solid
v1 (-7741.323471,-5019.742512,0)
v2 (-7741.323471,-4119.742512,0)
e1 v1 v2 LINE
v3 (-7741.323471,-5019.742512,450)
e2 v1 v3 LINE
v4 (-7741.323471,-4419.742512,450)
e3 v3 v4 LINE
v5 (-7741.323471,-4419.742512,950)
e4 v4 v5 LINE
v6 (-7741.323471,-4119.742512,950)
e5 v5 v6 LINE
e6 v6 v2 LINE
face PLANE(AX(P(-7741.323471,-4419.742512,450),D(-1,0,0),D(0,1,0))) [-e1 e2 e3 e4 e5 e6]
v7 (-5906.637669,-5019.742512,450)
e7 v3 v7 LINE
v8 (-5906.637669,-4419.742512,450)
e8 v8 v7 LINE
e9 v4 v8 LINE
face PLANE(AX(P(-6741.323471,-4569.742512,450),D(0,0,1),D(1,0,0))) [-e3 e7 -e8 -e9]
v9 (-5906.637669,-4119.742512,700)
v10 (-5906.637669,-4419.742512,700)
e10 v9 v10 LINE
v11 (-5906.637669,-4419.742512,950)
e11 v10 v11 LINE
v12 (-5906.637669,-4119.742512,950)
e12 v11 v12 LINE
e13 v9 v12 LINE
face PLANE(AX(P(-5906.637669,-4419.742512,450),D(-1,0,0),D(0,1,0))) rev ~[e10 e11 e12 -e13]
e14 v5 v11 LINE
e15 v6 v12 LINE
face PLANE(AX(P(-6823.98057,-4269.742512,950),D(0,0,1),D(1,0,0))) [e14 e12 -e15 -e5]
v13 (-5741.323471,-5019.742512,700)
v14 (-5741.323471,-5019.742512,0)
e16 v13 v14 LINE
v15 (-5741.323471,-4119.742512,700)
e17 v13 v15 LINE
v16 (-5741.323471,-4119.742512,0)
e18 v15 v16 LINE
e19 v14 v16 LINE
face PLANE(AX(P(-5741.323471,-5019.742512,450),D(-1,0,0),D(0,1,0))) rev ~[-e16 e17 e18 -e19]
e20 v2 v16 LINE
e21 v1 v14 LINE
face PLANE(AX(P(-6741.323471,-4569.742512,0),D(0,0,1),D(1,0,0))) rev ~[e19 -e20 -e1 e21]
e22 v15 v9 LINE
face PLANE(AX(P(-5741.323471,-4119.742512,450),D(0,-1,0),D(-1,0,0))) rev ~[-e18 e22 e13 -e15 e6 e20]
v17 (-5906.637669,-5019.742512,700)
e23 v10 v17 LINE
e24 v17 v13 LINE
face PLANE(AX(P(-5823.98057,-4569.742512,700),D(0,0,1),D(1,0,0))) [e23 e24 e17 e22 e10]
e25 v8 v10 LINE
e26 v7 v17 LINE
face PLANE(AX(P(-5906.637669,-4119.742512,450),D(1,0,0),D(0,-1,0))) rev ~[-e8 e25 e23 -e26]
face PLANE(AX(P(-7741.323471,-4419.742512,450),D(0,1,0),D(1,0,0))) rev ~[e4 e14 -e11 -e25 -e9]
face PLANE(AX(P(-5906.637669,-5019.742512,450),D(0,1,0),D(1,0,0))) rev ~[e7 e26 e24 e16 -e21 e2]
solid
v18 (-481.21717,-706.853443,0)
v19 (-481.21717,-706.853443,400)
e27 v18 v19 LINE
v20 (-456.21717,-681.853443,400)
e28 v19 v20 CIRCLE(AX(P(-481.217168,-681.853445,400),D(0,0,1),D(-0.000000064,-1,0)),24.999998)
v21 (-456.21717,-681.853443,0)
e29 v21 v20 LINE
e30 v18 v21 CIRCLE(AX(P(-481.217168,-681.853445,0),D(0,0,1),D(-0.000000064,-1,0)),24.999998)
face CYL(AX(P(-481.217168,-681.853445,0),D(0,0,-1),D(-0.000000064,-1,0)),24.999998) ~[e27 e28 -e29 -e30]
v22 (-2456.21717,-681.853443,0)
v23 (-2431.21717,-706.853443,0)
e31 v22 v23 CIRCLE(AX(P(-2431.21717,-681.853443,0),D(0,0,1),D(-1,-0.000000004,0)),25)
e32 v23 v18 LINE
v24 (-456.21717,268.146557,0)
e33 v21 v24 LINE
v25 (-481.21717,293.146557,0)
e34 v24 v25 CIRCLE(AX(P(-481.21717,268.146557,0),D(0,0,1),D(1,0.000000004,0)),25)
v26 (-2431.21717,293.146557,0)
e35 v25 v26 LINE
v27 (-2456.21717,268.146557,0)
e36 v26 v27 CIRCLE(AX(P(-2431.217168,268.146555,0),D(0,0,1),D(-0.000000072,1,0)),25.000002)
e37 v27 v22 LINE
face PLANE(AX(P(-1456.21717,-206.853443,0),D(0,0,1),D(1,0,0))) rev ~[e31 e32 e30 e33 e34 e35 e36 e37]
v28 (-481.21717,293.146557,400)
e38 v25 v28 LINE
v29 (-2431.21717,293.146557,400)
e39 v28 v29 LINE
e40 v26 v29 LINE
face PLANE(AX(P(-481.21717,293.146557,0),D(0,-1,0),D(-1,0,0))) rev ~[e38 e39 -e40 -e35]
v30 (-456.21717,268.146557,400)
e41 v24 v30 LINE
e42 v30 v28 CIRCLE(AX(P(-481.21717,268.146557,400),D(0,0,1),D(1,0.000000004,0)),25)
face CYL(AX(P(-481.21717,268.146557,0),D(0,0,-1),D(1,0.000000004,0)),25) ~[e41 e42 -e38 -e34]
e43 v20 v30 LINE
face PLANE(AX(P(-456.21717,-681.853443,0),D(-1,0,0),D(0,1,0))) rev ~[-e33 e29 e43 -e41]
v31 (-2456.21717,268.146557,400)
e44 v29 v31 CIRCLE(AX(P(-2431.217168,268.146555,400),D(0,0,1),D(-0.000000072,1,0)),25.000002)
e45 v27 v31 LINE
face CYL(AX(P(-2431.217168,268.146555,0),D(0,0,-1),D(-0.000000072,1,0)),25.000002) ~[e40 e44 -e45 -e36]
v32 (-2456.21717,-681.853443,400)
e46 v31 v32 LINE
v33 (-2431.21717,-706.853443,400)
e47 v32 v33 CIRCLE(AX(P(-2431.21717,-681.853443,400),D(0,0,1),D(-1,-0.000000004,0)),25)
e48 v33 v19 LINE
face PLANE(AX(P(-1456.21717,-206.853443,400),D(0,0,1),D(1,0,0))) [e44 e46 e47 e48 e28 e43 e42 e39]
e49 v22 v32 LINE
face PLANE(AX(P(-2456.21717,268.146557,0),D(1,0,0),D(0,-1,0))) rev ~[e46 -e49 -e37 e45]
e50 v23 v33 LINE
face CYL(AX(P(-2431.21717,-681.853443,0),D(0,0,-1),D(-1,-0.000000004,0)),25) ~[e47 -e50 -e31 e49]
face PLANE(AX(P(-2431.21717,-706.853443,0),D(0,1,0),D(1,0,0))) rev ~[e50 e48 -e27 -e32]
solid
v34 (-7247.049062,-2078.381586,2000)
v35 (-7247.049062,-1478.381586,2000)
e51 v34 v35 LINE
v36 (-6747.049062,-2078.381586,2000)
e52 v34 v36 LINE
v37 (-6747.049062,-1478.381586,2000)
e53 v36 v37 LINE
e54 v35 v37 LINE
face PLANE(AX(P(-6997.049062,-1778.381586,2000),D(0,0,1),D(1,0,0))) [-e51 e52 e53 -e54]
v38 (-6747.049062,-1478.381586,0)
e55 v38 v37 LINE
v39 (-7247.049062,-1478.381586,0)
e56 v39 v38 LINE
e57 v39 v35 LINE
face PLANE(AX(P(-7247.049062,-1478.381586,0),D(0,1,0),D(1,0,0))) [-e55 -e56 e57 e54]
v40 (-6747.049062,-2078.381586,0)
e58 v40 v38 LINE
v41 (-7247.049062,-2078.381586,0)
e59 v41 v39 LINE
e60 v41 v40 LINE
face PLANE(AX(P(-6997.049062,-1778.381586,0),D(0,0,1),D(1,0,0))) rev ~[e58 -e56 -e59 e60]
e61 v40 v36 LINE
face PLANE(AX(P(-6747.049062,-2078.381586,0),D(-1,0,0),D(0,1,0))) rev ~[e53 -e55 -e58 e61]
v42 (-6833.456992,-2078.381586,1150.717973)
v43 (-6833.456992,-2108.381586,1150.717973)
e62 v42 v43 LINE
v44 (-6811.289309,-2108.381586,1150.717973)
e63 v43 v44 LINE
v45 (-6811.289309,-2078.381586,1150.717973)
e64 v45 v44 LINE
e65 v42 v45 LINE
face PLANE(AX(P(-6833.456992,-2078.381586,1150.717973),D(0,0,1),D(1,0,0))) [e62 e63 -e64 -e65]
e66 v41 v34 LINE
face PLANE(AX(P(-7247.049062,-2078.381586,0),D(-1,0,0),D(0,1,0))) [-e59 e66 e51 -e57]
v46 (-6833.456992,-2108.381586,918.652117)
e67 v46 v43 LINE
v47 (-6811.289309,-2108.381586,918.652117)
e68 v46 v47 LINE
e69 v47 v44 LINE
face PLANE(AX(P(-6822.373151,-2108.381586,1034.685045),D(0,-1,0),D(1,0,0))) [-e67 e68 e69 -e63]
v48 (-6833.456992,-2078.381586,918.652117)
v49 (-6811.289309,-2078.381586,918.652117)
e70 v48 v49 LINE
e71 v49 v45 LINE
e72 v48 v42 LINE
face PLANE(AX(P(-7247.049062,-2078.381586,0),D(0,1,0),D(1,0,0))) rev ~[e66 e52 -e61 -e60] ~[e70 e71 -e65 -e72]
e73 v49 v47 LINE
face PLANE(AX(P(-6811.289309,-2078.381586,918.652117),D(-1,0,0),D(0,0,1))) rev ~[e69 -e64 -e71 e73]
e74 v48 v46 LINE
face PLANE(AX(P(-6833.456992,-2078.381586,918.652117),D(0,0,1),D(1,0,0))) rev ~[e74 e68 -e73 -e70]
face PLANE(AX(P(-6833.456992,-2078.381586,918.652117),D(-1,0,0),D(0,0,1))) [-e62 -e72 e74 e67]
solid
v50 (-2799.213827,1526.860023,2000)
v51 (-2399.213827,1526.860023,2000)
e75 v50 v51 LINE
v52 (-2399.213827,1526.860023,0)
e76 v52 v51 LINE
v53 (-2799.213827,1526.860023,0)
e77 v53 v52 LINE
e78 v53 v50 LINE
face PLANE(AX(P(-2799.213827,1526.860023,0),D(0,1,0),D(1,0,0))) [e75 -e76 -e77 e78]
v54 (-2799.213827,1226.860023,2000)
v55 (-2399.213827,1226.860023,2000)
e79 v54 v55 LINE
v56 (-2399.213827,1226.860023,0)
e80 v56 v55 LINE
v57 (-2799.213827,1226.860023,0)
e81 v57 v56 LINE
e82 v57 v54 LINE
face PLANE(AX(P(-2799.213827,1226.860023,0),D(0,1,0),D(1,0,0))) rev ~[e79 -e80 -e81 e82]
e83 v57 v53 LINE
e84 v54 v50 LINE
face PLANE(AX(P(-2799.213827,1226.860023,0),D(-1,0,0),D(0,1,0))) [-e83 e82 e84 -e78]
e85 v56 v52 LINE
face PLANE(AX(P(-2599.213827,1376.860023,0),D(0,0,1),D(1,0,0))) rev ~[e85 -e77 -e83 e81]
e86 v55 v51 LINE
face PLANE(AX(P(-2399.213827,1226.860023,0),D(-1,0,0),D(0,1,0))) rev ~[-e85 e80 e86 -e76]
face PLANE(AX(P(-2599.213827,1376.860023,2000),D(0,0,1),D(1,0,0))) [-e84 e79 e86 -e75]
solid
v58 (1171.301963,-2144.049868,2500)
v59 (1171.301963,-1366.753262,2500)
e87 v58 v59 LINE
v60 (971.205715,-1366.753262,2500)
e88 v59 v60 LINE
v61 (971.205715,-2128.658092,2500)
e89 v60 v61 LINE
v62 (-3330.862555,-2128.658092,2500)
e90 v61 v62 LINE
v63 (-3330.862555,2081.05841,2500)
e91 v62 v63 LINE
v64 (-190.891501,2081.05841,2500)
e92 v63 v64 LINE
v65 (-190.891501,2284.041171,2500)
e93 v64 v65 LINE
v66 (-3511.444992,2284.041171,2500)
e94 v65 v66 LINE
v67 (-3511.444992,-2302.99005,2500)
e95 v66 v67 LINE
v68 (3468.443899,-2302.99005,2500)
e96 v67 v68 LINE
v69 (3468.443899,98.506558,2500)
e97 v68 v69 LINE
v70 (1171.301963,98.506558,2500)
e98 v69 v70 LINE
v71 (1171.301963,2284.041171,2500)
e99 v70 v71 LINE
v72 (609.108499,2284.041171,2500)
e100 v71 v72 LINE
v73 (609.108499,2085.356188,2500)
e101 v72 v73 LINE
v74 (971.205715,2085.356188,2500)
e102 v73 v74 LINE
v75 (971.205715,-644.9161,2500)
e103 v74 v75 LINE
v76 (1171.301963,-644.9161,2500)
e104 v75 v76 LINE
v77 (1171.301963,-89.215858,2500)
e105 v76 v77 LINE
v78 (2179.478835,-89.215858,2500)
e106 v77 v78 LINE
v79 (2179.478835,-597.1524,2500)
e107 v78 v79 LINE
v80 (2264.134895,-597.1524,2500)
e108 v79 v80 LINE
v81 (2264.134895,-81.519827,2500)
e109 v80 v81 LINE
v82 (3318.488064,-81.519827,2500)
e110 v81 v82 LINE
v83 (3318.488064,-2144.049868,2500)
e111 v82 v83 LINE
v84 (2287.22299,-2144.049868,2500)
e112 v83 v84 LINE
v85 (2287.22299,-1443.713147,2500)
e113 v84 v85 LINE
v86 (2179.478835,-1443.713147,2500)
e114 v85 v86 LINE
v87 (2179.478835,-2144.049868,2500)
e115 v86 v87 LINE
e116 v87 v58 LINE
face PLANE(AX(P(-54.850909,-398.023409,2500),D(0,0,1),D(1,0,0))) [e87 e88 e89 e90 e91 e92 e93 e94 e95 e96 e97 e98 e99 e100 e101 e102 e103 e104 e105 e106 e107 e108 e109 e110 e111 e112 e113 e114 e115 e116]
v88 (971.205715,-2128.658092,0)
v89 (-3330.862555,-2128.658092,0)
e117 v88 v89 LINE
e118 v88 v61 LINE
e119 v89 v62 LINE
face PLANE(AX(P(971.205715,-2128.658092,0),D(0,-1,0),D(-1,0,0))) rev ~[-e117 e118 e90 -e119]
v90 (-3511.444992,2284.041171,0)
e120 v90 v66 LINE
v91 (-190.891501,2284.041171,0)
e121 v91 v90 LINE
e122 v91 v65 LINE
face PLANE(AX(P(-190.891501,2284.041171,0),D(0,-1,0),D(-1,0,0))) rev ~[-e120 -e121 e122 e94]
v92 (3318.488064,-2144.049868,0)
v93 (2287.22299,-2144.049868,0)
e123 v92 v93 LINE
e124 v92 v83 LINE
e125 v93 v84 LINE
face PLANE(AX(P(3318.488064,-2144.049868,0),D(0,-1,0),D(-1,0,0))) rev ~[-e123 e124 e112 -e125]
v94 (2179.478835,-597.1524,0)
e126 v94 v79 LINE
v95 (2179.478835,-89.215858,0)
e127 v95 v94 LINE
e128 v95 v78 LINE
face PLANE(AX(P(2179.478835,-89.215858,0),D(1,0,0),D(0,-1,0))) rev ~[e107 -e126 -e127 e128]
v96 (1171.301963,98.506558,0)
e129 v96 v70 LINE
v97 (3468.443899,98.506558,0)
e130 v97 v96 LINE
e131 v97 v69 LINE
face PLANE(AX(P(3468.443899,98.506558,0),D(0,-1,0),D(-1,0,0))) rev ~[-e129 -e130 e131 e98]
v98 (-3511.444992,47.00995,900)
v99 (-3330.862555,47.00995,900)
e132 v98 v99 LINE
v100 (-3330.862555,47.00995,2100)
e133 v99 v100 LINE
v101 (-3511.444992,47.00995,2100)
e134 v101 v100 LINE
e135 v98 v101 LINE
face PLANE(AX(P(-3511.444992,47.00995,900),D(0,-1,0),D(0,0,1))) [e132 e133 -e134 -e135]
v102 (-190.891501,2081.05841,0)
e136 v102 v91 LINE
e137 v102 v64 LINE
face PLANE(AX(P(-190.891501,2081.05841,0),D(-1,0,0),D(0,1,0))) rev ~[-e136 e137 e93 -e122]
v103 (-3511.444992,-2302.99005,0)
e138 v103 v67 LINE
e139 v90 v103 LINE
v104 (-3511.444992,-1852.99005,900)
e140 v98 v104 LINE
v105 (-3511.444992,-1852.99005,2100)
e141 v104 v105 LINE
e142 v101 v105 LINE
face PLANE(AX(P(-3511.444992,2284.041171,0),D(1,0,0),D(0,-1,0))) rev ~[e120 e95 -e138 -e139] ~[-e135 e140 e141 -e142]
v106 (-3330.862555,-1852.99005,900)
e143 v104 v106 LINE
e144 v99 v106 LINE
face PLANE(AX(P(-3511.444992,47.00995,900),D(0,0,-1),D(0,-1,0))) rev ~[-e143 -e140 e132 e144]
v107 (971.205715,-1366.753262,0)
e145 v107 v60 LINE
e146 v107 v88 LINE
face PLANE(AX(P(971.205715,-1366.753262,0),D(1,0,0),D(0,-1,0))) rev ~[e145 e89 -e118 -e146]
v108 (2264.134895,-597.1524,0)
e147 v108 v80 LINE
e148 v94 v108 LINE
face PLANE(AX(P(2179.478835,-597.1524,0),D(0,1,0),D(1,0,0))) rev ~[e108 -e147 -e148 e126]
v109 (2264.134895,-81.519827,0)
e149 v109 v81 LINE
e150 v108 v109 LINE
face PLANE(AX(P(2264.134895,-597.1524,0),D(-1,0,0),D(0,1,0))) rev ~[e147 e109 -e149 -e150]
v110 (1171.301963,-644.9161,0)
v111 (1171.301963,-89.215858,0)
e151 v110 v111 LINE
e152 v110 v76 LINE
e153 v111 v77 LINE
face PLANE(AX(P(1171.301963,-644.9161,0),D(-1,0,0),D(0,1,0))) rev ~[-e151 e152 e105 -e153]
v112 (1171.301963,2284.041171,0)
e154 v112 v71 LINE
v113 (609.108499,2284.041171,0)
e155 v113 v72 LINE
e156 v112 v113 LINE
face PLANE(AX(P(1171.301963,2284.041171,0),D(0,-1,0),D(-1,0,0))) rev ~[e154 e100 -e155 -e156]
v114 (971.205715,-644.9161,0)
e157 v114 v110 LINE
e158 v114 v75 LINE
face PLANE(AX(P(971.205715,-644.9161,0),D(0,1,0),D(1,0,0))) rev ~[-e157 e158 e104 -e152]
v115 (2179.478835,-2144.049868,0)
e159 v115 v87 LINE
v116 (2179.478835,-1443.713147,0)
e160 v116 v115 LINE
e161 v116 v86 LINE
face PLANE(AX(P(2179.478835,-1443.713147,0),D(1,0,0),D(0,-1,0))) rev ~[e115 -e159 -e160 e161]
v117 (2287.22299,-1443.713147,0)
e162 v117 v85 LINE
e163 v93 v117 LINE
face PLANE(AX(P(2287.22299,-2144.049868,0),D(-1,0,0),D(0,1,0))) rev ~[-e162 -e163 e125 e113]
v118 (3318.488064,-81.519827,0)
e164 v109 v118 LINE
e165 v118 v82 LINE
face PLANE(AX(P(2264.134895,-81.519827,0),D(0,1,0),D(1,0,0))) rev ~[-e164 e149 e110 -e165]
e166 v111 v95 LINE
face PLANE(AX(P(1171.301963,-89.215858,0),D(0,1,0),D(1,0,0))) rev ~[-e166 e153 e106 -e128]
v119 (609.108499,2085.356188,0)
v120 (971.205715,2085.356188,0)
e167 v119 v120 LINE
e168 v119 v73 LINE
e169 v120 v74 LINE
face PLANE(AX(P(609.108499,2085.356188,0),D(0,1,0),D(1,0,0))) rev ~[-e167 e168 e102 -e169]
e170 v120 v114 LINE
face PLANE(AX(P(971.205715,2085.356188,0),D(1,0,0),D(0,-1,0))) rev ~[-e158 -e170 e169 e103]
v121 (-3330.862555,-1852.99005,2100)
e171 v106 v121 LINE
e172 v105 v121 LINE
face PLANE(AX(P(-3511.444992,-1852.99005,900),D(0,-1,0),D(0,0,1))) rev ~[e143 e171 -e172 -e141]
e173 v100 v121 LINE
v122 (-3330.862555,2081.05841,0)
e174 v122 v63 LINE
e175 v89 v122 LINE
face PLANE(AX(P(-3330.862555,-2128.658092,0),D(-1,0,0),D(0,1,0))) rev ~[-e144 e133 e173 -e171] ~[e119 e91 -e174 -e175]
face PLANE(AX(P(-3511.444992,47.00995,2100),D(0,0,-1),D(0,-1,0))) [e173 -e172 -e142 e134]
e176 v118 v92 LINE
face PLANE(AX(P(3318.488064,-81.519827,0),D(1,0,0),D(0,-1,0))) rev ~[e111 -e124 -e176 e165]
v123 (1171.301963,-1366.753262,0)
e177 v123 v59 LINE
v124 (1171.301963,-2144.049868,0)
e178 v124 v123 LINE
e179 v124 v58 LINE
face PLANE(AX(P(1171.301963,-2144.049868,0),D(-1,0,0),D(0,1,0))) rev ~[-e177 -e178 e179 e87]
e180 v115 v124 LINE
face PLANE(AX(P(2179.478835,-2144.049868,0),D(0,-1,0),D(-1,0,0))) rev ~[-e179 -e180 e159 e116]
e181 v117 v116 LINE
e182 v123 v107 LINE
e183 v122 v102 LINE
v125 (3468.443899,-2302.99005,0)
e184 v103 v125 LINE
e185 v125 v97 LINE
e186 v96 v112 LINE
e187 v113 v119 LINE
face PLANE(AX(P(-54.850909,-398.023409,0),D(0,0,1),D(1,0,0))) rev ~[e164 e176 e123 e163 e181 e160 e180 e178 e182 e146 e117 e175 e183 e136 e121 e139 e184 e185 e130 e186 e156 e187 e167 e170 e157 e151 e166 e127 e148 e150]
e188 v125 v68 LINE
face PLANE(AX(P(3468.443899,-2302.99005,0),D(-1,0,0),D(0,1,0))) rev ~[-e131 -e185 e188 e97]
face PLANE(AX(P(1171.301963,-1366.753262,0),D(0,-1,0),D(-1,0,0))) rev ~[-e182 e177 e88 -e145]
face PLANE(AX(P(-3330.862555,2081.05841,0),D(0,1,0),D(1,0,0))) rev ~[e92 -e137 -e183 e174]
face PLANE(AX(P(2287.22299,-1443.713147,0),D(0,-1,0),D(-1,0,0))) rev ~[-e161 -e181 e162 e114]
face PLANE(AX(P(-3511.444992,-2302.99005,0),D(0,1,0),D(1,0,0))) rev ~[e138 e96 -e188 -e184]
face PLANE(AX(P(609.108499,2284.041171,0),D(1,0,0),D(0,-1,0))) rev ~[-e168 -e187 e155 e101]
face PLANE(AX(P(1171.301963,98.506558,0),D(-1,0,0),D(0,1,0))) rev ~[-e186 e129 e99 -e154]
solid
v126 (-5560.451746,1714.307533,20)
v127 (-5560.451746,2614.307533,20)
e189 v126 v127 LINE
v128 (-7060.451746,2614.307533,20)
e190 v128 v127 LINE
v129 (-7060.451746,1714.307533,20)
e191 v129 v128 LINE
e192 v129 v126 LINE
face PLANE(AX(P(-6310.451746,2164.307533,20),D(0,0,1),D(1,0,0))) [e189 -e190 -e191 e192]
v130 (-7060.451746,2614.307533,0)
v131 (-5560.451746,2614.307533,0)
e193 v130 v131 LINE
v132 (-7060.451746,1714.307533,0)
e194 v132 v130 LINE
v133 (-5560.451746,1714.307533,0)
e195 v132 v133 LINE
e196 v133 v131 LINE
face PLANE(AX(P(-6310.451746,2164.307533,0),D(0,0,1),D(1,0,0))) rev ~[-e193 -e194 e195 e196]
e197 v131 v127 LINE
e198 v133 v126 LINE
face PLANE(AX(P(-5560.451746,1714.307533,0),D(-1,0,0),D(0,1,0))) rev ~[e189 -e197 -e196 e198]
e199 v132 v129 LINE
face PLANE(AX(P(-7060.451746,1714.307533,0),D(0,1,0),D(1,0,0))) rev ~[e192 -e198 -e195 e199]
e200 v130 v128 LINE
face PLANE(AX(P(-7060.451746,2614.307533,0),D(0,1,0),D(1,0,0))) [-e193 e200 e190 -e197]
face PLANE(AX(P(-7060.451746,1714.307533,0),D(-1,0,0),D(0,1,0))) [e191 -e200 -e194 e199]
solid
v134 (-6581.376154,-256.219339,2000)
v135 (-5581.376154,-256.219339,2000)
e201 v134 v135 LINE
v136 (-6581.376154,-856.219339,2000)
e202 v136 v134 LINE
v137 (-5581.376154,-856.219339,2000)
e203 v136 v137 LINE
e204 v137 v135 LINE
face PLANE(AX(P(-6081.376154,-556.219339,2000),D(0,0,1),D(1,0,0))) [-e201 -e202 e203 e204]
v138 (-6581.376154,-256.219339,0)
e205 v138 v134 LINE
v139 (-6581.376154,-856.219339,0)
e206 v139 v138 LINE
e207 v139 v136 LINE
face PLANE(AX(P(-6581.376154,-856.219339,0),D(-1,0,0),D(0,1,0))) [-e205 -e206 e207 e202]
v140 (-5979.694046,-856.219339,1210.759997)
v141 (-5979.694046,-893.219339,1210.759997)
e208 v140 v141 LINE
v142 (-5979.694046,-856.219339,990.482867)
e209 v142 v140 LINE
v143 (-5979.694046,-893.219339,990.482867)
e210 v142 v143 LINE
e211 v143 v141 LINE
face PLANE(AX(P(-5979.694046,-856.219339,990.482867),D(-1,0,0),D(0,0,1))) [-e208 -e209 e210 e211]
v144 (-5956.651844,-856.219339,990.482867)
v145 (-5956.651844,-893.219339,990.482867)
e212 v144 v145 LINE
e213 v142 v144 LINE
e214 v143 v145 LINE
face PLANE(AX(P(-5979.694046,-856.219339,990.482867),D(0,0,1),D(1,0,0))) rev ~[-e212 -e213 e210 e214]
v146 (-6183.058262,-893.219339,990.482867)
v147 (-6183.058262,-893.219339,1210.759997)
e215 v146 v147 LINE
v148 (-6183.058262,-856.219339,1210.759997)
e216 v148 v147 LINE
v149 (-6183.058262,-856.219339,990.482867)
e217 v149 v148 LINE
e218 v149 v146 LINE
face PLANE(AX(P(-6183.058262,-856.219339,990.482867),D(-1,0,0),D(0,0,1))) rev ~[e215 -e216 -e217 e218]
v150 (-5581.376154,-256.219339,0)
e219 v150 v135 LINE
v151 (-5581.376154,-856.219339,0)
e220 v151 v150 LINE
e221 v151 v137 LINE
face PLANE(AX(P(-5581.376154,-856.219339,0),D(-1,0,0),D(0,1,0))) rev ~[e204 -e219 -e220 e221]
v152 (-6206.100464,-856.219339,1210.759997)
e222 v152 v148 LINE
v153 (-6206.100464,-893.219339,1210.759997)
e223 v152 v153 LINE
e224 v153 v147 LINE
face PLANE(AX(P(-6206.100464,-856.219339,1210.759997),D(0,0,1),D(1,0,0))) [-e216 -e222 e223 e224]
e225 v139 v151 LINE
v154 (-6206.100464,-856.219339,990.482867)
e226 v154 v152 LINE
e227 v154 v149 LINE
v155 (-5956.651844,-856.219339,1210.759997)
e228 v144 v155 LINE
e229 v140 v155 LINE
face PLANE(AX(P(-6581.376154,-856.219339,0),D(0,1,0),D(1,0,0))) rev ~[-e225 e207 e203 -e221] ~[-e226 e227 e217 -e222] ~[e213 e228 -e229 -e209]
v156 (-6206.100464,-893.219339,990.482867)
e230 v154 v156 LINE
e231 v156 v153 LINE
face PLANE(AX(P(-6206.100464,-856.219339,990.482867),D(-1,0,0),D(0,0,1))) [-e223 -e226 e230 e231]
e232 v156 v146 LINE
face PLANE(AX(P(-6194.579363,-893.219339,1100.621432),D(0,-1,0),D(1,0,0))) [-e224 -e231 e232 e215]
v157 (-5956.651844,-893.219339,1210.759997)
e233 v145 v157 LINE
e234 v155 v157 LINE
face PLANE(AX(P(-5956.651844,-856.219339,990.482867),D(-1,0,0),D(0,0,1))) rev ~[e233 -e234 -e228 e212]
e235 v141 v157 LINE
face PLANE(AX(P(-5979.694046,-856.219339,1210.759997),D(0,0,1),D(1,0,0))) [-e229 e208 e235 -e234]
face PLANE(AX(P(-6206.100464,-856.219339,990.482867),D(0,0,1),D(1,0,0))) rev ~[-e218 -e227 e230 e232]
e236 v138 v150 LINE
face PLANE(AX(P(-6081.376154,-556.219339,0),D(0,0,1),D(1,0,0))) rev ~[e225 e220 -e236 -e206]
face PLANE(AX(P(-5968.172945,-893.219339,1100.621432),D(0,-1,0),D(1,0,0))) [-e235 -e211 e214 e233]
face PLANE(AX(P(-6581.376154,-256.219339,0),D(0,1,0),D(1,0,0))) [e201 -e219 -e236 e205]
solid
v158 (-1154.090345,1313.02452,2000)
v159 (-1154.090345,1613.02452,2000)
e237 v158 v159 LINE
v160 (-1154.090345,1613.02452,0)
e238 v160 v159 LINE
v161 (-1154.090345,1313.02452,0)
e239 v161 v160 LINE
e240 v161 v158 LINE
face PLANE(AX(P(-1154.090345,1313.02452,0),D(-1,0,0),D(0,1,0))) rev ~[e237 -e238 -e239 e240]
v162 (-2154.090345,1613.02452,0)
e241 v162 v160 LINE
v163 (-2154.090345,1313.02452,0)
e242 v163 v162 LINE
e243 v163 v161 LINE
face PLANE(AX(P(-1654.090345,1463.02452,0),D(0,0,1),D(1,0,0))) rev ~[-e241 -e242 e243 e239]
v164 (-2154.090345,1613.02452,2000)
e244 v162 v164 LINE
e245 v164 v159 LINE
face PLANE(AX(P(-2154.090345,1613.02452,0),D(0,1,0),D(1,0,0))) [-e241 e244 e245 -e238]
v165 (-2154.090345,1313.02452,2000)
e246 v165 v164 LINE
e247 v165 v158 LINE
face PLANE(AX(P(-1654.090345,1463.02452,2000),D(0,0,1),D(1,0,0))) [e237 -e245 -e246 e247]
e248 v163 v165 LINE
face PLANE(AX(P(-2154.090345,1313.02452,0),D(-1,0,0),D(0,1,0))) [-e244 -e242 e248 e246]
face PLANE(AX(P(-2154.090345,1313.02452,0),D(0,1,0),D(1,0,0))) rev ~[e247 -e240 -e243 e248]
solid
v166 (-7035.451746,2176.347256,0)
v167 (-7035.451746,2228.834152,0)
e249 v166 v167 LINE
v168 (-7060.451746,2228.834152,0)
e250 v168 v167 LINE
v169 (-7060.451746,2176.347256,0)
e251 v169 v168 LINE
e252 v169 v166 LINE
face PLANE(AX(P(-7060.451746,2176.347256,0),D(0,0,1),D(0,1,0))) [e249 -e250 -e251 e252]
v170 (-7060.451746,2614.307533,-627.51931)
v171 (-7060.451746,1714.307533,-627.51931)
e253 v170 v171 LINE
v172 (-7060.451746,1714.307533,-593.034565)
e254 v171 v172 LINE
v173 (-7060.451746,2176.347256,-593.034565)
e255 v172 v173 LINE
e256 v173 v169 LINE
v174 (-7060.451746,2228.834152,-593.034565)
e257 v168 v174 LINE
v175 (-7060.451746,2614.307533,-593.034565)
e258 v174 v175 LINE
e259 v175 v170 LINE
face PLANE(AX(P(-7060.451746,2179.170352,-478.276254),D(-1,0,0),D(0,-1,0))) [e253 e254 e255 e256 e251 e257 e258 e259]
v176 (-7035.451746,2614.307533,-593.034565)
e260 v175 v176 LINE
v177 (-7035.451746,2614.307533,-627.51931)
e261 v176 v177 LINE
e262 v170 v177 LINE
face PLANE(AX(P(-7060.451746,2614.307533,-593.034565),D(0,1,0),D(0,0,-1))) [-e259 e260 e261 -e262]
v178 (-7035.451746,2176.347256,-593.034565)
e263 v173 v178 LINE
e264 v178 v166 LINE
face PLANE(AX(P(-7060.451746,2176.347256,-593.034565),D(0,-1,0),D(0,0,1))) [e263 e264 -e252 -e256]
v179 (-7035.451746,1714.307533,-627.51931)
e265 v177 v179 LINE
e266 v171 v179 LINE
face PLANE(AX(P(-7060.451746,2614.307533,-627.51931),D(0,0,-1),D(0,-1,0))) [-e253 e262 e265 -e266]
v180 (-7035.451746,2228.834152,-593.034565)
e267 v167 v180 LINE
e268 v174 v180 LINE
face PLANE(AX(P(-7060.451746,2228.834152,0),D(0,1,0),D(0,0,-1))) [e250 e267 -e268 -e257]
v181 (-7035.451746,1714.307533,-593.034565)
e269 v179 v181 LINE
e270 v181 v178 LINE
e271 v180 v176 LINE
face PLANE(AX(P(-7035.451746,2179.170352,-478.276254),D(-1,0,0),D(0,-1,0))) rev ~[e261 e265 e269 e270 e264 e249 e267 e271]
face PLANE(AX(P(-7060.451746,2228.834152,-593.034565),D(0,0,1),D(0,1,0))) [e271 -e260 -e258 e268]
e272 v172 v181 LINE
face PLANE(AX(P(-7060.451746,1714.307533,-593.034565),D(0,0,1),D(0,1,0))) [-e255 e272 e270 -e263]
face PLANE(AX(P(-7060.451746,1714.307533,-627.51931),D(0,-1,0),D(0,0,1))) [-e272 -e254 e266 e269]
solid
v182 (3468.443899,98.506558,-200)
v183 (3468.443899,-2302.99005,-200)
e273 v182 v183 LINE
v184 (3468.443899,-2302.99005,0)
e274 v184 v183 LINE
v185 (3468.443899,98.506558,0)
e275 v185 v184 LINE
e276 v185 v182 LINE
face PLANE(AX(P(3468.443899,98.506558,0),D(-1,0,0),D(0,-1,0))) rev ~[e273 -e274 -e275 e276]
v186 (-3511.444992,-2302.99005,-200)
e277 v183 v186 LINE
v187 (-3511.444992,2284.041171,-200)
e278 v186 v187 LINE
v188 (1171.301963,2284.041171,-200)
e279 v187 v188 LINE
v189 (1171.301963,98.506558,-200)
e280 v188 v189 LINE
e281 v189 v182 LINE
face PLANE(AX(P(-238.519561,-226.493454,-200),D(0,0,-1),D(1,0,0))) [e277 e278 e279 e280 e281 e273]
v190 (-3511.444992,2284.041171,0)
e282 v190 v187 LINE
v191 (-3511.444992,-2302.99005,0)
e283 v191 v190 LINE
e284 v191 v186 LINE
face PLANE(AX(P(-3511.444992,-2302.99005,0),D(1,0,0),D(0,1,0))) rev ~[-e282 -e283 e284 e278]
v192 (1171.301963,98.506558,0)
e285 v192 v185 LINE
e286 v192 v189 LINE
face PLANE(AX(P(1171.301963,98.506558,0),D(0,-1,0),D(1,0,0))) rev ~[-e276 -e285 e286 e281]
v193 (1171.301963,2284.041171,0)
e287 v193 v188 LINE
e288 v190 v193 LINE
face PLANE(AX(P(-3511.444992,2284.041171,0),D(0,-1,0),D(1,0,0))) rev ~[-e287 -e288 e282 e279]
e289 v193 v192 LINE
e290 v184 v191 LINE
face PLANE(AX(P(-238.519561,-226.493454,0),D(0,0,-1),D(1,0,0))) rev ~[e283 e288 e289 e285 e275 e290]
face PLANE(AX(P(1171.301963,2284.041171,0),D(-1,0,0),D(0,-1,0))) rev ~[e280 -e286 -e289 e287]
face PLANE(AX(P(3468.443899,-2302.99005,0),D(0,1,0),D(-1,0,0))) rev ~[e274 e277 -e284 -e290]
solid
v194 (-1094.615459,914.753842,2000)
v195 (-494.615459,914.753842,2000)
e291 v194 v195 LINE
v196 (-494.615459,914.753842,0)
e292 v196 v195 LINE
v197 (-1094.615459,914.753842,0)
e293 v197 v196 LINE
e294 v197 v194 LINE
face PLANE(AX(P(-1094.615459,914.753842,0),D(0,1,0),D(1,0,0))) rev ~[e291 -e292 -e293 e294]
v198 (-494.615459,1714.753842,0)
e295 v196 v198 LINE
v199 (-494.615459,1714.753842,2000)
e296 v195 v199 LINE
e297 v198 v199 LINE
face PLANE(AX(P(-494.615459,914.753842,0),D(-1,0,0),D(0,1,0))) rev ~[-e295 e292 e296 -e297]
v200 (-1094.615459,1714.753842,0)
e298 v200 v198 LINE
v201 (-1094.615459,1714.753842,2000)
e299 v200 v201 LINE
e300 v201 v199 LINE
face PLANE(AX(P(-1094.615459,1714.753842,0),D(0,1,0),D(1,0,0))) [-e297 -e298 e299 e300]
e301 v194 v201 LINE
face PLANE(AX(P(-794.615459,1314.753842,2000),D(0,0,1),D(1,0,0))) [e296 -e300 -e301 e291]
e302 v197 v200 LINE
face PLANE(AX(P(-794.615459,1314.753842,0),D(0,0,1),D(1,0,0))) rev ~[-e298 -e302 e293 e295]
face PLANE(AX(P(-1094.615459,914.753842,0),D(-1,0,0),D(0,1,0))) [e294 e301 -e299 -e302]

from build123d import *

# Parameters (mm, degrees)
F2_DEPTH  = 2500
F3_W      = 1900
F3_H      = 1200
F4_DEPTH  = 180.582437
F1_W      = 600
F1_H      = 800
F5_DEPTH  = 2000
F7_DEPTH  = 400
F8_W      = 400
F8_H      = 300
F9_DEPTH  = 2000
F10_W     = 1000
F10_H     = 300
F11_DEPTH = 2000
F13_DEPTH = 200
F14_W     = 1500
F14_H     = 900
F15_DEPTH = 20
F17_DEPTH = 25
F19_W     = 500
F19_H     = 600
F20_DEPTH = 2000
F18_W     = 1000
F18_H     = 600
F21_DEPTH = 2000
F22_W     = 23.042202
F22_H     = 220.27713
F23_DEPTH = 37
F24_W     = 22.167683
F24_H     = 232.065857
F25_DEPTH = 30
F26_W     = 2000
F26_H     = 900
F27_DEPTH = 450
F28_W     = 1834.685802
F28_H     = 300
F29_DEPTH = 500
F31_DEPTH = 250


with BuildPart() as f2:
    # F0 (on Top) → F2 (new body)
    with BuildSketch(Plane.XY):
        Polygon((-3330.862555, 2081.05841), (-190.891501, 2081.05841), (-190.891501, 2284.041171), (-3511.444992, 2284.041171), (-3511.444992, -2302.99005), (3468.443899, -2302.99005), (3468.443899, 98.506558), (1171.301963, 98.506558), (1171.301963, 2284.041171), (609.108499, 2284.041171), (609.108499, 2085.356188), (971.205715, 2085.356188), (971.205715, -644.9161), (1171.301963, -644.9161), (1171.301963, -89.215858), (2179.478835, -89.215858), (2179.478835, -597.1524), (2264.134895, -597.1524), (2264.134895, -81.519827), (3318.488064, -81.519827), (3318.488064, -2144.049868), (2287.22299, -2144.049868), (2287.22299, -1443.713147), (2179.478835, -1443.713147), (2179.478835, -2144.049868), (1171.301963, -2144.049868), (1171.301963, -1366.753262), (971.205715, -1366.753262), (971.205715, -2128.658092), (-3330.862555, -2128.658092), align=None)
    extrude(amount=F2_DEPTH)

    # F3 (on face) → F4 (cut, through all)
    with BuildSketch(Plane(origin=(-3511.444992, 0, 0), x_dir=(0, -1, 0), z_dir=(-1, 0, 0))):
        with Locations((902.99005, 1500)):
            Rectangle(F3_W, F3_H)
    extrude(amount=-F4_DEPTH, mode=Mode.SUBTRACT)


with BuildPart() as f5:
    # F1 (on Top) → F5 (new body)
    with BuildSketch(Plane.XY):
        with Locations((-794.615459, 1314.753842)):
            Rectangle(F1_W, F1_H)
    extrude(amount=F5_DEPTH)


with BuildPart() as f7:
    # F6 (on Top) → F7 (new body)
    with BuildSketch(Plane.XY):
        with BuildLine():
            ThreePointArc((-456.21717, 268.146557), (-463.5395, 285.824226), (-481.21717, 293.146557))
            Line((-481.21717, 293.146557), (-2431.21717, 293.146557))
            ThreePointArc((-2431.21717, 293.146557), (-2448.894839, 285.824226), (-2456.21717, 268.146557))
            Line((-2456.21717, 268.146557), (-2456.21717, -681.853443))
            ThreePointArc((-2456.21717, -681.853443), (-2448.894839, -699.531113), (-2431.21717, -706.853443))
            Line((-2431.21717, -706.853443), (-481.21717, -706.853443))
            ThreePointArc((-481.21717, -706.853443), (-463.5395, -699.531113), (-456.21717, -681.853443))
            Line((-456.21717, -681.853443), (-456.21717, 268.146557))
        make_face()
    extrude(amount=F7_DEPTH)


with BuildPart() as f9:
    # F8 (on Top) → F9 (new body)
    with BuildSketch(Plane.XY):
        with Locations((-2599.213827, 1376.860023)):
            Rectangle(F8_W, F8_H)
    extrude(amount=F9_DEPTH)


with BuildPart() as f11:
    # F10 (on Top) → F11 (new body)
    with BuildSketch(Plane.XY):
        with Locations((-1654.090345, 1463.02452)):
            Rectangle(F10_W, F10_H)
    extrude(amount=F11_DEPTH)


with BuildPart() as f13:
    # F12 (on face) → F13 (new body)
    with BuildSketch(Plane(origin=(0, 0, 0), x_dir=(1, 0, 0), z_dir=(0, 0, -1))):
        Polygon((3468.443899, 2302.99005), (-3511.444992, 2302.99005), (-3511.444992, -2284.041171), (1171.301963, -2284.041171), (1171.301963, -98.506558), (3468.443899, -98.506558), align=None)
    extrude(amount=F13_DEPTH)


with BuildPart() as f15:
    # F14 (on Top) → F15 (new body)
    with BuildSketch(Plane.XY):
        with Locations((-6310.451746, 2164.307533)):
            Rectangle(F14_W, F14_H)
    extrude(amount=F15_DEPTH)


with BuildPart() as f17:
    # F16 (on face) → F17 (new body)
    with BuildSketch(Plane(origin=(-7060.451746, 0, 0), x_dir=(0, -1, 0), z_dir=(-1, 0, 0))):
        Polygon((-2176.347256, 0), (-2228.834152, 0), (-2228.834152, -593.034565), (-2614.307533, -593.034565), (-2614.307533, -627.51931), (-1714.307533, -627.51931), (-1714.307533, -593.034565), (-2176.347256, -593.034565), align=None)
    extrude(amount=-F17_DEPTH)


with BuildPart() as f20:
    # F19 (on Top) → F20 (new body)
    with BuildSketch(Plane.XY):
        with Locations((-6997.049062, -1778.381586)):
            Rectangle(F19_W, F19_H)
    extrude(amount=F20_DEPTH)

    # F24 (on face) → F25 (join)
    with BuildSketch(Plane.XZ.offset(2078.381586)):
        with Locations((-6822.373151, 1034.685045)):
            Rectangle(F24_W, F24_H)
    extrude(amount=F25_DEPTH)


with BuildPart() as f21:
    # F18 (on Top) → F21 (new body)
    with BuildSketch(Plane.XY):
        with Locations((-6081.376154, -556.219339)):
            Rectangle(F18_W, F18_H)
    extrude(amount=F21_DEPTH)

    # F22 (on face) → F23 (join)
    with BuildSketch(Plane.XZ.offset(856.219339)):
        with Locations((-6194.579363, 1100.621432)):
            Rectangle(F22_W, F22_H)
        with Locations((-5968.172945, 1100.621432)):
            Rectangle(F22_W, F22_H)
    extrude(amount=F23_DEPTH)


with BuildPart() as f27:
    # F26 (on Top) → F27 (new body)
    with BuildSketch(Plane.XY):
        with Locations((-6741.323471, -4569.742512)):
            Rectangle(F26_W, F26_H)
    extrude(amount=F27_DEPTH)

    # F28 (on face) → F29 (join)
    with BuildSketch(Plane.XY.offset(450)):
        with Locations((-6823.98057, -4269.742512)):
            Rectangle(F28_W, F28_H)
    extrude(amount=F29_DEPTH)

    # F30 (on face) → F31 (join)
    with BuildSketch(Plane.XY.offset(450)):
        Polygon((-5741.323471, -4119.742512), (-5906.637669, -4119.742512), (-5906.637669, -4419.742512), (-5906.637669, -5019.742512), (-5741.323471, -5019.742512), align=None)
    extrude(amount=F31_DEPTH)


solid = Compound([f2.part, f5.part, f7.part, f9.part, f11.part, f13.part, f15.part, f17.part, f20.part, f21.part, f27.part])
